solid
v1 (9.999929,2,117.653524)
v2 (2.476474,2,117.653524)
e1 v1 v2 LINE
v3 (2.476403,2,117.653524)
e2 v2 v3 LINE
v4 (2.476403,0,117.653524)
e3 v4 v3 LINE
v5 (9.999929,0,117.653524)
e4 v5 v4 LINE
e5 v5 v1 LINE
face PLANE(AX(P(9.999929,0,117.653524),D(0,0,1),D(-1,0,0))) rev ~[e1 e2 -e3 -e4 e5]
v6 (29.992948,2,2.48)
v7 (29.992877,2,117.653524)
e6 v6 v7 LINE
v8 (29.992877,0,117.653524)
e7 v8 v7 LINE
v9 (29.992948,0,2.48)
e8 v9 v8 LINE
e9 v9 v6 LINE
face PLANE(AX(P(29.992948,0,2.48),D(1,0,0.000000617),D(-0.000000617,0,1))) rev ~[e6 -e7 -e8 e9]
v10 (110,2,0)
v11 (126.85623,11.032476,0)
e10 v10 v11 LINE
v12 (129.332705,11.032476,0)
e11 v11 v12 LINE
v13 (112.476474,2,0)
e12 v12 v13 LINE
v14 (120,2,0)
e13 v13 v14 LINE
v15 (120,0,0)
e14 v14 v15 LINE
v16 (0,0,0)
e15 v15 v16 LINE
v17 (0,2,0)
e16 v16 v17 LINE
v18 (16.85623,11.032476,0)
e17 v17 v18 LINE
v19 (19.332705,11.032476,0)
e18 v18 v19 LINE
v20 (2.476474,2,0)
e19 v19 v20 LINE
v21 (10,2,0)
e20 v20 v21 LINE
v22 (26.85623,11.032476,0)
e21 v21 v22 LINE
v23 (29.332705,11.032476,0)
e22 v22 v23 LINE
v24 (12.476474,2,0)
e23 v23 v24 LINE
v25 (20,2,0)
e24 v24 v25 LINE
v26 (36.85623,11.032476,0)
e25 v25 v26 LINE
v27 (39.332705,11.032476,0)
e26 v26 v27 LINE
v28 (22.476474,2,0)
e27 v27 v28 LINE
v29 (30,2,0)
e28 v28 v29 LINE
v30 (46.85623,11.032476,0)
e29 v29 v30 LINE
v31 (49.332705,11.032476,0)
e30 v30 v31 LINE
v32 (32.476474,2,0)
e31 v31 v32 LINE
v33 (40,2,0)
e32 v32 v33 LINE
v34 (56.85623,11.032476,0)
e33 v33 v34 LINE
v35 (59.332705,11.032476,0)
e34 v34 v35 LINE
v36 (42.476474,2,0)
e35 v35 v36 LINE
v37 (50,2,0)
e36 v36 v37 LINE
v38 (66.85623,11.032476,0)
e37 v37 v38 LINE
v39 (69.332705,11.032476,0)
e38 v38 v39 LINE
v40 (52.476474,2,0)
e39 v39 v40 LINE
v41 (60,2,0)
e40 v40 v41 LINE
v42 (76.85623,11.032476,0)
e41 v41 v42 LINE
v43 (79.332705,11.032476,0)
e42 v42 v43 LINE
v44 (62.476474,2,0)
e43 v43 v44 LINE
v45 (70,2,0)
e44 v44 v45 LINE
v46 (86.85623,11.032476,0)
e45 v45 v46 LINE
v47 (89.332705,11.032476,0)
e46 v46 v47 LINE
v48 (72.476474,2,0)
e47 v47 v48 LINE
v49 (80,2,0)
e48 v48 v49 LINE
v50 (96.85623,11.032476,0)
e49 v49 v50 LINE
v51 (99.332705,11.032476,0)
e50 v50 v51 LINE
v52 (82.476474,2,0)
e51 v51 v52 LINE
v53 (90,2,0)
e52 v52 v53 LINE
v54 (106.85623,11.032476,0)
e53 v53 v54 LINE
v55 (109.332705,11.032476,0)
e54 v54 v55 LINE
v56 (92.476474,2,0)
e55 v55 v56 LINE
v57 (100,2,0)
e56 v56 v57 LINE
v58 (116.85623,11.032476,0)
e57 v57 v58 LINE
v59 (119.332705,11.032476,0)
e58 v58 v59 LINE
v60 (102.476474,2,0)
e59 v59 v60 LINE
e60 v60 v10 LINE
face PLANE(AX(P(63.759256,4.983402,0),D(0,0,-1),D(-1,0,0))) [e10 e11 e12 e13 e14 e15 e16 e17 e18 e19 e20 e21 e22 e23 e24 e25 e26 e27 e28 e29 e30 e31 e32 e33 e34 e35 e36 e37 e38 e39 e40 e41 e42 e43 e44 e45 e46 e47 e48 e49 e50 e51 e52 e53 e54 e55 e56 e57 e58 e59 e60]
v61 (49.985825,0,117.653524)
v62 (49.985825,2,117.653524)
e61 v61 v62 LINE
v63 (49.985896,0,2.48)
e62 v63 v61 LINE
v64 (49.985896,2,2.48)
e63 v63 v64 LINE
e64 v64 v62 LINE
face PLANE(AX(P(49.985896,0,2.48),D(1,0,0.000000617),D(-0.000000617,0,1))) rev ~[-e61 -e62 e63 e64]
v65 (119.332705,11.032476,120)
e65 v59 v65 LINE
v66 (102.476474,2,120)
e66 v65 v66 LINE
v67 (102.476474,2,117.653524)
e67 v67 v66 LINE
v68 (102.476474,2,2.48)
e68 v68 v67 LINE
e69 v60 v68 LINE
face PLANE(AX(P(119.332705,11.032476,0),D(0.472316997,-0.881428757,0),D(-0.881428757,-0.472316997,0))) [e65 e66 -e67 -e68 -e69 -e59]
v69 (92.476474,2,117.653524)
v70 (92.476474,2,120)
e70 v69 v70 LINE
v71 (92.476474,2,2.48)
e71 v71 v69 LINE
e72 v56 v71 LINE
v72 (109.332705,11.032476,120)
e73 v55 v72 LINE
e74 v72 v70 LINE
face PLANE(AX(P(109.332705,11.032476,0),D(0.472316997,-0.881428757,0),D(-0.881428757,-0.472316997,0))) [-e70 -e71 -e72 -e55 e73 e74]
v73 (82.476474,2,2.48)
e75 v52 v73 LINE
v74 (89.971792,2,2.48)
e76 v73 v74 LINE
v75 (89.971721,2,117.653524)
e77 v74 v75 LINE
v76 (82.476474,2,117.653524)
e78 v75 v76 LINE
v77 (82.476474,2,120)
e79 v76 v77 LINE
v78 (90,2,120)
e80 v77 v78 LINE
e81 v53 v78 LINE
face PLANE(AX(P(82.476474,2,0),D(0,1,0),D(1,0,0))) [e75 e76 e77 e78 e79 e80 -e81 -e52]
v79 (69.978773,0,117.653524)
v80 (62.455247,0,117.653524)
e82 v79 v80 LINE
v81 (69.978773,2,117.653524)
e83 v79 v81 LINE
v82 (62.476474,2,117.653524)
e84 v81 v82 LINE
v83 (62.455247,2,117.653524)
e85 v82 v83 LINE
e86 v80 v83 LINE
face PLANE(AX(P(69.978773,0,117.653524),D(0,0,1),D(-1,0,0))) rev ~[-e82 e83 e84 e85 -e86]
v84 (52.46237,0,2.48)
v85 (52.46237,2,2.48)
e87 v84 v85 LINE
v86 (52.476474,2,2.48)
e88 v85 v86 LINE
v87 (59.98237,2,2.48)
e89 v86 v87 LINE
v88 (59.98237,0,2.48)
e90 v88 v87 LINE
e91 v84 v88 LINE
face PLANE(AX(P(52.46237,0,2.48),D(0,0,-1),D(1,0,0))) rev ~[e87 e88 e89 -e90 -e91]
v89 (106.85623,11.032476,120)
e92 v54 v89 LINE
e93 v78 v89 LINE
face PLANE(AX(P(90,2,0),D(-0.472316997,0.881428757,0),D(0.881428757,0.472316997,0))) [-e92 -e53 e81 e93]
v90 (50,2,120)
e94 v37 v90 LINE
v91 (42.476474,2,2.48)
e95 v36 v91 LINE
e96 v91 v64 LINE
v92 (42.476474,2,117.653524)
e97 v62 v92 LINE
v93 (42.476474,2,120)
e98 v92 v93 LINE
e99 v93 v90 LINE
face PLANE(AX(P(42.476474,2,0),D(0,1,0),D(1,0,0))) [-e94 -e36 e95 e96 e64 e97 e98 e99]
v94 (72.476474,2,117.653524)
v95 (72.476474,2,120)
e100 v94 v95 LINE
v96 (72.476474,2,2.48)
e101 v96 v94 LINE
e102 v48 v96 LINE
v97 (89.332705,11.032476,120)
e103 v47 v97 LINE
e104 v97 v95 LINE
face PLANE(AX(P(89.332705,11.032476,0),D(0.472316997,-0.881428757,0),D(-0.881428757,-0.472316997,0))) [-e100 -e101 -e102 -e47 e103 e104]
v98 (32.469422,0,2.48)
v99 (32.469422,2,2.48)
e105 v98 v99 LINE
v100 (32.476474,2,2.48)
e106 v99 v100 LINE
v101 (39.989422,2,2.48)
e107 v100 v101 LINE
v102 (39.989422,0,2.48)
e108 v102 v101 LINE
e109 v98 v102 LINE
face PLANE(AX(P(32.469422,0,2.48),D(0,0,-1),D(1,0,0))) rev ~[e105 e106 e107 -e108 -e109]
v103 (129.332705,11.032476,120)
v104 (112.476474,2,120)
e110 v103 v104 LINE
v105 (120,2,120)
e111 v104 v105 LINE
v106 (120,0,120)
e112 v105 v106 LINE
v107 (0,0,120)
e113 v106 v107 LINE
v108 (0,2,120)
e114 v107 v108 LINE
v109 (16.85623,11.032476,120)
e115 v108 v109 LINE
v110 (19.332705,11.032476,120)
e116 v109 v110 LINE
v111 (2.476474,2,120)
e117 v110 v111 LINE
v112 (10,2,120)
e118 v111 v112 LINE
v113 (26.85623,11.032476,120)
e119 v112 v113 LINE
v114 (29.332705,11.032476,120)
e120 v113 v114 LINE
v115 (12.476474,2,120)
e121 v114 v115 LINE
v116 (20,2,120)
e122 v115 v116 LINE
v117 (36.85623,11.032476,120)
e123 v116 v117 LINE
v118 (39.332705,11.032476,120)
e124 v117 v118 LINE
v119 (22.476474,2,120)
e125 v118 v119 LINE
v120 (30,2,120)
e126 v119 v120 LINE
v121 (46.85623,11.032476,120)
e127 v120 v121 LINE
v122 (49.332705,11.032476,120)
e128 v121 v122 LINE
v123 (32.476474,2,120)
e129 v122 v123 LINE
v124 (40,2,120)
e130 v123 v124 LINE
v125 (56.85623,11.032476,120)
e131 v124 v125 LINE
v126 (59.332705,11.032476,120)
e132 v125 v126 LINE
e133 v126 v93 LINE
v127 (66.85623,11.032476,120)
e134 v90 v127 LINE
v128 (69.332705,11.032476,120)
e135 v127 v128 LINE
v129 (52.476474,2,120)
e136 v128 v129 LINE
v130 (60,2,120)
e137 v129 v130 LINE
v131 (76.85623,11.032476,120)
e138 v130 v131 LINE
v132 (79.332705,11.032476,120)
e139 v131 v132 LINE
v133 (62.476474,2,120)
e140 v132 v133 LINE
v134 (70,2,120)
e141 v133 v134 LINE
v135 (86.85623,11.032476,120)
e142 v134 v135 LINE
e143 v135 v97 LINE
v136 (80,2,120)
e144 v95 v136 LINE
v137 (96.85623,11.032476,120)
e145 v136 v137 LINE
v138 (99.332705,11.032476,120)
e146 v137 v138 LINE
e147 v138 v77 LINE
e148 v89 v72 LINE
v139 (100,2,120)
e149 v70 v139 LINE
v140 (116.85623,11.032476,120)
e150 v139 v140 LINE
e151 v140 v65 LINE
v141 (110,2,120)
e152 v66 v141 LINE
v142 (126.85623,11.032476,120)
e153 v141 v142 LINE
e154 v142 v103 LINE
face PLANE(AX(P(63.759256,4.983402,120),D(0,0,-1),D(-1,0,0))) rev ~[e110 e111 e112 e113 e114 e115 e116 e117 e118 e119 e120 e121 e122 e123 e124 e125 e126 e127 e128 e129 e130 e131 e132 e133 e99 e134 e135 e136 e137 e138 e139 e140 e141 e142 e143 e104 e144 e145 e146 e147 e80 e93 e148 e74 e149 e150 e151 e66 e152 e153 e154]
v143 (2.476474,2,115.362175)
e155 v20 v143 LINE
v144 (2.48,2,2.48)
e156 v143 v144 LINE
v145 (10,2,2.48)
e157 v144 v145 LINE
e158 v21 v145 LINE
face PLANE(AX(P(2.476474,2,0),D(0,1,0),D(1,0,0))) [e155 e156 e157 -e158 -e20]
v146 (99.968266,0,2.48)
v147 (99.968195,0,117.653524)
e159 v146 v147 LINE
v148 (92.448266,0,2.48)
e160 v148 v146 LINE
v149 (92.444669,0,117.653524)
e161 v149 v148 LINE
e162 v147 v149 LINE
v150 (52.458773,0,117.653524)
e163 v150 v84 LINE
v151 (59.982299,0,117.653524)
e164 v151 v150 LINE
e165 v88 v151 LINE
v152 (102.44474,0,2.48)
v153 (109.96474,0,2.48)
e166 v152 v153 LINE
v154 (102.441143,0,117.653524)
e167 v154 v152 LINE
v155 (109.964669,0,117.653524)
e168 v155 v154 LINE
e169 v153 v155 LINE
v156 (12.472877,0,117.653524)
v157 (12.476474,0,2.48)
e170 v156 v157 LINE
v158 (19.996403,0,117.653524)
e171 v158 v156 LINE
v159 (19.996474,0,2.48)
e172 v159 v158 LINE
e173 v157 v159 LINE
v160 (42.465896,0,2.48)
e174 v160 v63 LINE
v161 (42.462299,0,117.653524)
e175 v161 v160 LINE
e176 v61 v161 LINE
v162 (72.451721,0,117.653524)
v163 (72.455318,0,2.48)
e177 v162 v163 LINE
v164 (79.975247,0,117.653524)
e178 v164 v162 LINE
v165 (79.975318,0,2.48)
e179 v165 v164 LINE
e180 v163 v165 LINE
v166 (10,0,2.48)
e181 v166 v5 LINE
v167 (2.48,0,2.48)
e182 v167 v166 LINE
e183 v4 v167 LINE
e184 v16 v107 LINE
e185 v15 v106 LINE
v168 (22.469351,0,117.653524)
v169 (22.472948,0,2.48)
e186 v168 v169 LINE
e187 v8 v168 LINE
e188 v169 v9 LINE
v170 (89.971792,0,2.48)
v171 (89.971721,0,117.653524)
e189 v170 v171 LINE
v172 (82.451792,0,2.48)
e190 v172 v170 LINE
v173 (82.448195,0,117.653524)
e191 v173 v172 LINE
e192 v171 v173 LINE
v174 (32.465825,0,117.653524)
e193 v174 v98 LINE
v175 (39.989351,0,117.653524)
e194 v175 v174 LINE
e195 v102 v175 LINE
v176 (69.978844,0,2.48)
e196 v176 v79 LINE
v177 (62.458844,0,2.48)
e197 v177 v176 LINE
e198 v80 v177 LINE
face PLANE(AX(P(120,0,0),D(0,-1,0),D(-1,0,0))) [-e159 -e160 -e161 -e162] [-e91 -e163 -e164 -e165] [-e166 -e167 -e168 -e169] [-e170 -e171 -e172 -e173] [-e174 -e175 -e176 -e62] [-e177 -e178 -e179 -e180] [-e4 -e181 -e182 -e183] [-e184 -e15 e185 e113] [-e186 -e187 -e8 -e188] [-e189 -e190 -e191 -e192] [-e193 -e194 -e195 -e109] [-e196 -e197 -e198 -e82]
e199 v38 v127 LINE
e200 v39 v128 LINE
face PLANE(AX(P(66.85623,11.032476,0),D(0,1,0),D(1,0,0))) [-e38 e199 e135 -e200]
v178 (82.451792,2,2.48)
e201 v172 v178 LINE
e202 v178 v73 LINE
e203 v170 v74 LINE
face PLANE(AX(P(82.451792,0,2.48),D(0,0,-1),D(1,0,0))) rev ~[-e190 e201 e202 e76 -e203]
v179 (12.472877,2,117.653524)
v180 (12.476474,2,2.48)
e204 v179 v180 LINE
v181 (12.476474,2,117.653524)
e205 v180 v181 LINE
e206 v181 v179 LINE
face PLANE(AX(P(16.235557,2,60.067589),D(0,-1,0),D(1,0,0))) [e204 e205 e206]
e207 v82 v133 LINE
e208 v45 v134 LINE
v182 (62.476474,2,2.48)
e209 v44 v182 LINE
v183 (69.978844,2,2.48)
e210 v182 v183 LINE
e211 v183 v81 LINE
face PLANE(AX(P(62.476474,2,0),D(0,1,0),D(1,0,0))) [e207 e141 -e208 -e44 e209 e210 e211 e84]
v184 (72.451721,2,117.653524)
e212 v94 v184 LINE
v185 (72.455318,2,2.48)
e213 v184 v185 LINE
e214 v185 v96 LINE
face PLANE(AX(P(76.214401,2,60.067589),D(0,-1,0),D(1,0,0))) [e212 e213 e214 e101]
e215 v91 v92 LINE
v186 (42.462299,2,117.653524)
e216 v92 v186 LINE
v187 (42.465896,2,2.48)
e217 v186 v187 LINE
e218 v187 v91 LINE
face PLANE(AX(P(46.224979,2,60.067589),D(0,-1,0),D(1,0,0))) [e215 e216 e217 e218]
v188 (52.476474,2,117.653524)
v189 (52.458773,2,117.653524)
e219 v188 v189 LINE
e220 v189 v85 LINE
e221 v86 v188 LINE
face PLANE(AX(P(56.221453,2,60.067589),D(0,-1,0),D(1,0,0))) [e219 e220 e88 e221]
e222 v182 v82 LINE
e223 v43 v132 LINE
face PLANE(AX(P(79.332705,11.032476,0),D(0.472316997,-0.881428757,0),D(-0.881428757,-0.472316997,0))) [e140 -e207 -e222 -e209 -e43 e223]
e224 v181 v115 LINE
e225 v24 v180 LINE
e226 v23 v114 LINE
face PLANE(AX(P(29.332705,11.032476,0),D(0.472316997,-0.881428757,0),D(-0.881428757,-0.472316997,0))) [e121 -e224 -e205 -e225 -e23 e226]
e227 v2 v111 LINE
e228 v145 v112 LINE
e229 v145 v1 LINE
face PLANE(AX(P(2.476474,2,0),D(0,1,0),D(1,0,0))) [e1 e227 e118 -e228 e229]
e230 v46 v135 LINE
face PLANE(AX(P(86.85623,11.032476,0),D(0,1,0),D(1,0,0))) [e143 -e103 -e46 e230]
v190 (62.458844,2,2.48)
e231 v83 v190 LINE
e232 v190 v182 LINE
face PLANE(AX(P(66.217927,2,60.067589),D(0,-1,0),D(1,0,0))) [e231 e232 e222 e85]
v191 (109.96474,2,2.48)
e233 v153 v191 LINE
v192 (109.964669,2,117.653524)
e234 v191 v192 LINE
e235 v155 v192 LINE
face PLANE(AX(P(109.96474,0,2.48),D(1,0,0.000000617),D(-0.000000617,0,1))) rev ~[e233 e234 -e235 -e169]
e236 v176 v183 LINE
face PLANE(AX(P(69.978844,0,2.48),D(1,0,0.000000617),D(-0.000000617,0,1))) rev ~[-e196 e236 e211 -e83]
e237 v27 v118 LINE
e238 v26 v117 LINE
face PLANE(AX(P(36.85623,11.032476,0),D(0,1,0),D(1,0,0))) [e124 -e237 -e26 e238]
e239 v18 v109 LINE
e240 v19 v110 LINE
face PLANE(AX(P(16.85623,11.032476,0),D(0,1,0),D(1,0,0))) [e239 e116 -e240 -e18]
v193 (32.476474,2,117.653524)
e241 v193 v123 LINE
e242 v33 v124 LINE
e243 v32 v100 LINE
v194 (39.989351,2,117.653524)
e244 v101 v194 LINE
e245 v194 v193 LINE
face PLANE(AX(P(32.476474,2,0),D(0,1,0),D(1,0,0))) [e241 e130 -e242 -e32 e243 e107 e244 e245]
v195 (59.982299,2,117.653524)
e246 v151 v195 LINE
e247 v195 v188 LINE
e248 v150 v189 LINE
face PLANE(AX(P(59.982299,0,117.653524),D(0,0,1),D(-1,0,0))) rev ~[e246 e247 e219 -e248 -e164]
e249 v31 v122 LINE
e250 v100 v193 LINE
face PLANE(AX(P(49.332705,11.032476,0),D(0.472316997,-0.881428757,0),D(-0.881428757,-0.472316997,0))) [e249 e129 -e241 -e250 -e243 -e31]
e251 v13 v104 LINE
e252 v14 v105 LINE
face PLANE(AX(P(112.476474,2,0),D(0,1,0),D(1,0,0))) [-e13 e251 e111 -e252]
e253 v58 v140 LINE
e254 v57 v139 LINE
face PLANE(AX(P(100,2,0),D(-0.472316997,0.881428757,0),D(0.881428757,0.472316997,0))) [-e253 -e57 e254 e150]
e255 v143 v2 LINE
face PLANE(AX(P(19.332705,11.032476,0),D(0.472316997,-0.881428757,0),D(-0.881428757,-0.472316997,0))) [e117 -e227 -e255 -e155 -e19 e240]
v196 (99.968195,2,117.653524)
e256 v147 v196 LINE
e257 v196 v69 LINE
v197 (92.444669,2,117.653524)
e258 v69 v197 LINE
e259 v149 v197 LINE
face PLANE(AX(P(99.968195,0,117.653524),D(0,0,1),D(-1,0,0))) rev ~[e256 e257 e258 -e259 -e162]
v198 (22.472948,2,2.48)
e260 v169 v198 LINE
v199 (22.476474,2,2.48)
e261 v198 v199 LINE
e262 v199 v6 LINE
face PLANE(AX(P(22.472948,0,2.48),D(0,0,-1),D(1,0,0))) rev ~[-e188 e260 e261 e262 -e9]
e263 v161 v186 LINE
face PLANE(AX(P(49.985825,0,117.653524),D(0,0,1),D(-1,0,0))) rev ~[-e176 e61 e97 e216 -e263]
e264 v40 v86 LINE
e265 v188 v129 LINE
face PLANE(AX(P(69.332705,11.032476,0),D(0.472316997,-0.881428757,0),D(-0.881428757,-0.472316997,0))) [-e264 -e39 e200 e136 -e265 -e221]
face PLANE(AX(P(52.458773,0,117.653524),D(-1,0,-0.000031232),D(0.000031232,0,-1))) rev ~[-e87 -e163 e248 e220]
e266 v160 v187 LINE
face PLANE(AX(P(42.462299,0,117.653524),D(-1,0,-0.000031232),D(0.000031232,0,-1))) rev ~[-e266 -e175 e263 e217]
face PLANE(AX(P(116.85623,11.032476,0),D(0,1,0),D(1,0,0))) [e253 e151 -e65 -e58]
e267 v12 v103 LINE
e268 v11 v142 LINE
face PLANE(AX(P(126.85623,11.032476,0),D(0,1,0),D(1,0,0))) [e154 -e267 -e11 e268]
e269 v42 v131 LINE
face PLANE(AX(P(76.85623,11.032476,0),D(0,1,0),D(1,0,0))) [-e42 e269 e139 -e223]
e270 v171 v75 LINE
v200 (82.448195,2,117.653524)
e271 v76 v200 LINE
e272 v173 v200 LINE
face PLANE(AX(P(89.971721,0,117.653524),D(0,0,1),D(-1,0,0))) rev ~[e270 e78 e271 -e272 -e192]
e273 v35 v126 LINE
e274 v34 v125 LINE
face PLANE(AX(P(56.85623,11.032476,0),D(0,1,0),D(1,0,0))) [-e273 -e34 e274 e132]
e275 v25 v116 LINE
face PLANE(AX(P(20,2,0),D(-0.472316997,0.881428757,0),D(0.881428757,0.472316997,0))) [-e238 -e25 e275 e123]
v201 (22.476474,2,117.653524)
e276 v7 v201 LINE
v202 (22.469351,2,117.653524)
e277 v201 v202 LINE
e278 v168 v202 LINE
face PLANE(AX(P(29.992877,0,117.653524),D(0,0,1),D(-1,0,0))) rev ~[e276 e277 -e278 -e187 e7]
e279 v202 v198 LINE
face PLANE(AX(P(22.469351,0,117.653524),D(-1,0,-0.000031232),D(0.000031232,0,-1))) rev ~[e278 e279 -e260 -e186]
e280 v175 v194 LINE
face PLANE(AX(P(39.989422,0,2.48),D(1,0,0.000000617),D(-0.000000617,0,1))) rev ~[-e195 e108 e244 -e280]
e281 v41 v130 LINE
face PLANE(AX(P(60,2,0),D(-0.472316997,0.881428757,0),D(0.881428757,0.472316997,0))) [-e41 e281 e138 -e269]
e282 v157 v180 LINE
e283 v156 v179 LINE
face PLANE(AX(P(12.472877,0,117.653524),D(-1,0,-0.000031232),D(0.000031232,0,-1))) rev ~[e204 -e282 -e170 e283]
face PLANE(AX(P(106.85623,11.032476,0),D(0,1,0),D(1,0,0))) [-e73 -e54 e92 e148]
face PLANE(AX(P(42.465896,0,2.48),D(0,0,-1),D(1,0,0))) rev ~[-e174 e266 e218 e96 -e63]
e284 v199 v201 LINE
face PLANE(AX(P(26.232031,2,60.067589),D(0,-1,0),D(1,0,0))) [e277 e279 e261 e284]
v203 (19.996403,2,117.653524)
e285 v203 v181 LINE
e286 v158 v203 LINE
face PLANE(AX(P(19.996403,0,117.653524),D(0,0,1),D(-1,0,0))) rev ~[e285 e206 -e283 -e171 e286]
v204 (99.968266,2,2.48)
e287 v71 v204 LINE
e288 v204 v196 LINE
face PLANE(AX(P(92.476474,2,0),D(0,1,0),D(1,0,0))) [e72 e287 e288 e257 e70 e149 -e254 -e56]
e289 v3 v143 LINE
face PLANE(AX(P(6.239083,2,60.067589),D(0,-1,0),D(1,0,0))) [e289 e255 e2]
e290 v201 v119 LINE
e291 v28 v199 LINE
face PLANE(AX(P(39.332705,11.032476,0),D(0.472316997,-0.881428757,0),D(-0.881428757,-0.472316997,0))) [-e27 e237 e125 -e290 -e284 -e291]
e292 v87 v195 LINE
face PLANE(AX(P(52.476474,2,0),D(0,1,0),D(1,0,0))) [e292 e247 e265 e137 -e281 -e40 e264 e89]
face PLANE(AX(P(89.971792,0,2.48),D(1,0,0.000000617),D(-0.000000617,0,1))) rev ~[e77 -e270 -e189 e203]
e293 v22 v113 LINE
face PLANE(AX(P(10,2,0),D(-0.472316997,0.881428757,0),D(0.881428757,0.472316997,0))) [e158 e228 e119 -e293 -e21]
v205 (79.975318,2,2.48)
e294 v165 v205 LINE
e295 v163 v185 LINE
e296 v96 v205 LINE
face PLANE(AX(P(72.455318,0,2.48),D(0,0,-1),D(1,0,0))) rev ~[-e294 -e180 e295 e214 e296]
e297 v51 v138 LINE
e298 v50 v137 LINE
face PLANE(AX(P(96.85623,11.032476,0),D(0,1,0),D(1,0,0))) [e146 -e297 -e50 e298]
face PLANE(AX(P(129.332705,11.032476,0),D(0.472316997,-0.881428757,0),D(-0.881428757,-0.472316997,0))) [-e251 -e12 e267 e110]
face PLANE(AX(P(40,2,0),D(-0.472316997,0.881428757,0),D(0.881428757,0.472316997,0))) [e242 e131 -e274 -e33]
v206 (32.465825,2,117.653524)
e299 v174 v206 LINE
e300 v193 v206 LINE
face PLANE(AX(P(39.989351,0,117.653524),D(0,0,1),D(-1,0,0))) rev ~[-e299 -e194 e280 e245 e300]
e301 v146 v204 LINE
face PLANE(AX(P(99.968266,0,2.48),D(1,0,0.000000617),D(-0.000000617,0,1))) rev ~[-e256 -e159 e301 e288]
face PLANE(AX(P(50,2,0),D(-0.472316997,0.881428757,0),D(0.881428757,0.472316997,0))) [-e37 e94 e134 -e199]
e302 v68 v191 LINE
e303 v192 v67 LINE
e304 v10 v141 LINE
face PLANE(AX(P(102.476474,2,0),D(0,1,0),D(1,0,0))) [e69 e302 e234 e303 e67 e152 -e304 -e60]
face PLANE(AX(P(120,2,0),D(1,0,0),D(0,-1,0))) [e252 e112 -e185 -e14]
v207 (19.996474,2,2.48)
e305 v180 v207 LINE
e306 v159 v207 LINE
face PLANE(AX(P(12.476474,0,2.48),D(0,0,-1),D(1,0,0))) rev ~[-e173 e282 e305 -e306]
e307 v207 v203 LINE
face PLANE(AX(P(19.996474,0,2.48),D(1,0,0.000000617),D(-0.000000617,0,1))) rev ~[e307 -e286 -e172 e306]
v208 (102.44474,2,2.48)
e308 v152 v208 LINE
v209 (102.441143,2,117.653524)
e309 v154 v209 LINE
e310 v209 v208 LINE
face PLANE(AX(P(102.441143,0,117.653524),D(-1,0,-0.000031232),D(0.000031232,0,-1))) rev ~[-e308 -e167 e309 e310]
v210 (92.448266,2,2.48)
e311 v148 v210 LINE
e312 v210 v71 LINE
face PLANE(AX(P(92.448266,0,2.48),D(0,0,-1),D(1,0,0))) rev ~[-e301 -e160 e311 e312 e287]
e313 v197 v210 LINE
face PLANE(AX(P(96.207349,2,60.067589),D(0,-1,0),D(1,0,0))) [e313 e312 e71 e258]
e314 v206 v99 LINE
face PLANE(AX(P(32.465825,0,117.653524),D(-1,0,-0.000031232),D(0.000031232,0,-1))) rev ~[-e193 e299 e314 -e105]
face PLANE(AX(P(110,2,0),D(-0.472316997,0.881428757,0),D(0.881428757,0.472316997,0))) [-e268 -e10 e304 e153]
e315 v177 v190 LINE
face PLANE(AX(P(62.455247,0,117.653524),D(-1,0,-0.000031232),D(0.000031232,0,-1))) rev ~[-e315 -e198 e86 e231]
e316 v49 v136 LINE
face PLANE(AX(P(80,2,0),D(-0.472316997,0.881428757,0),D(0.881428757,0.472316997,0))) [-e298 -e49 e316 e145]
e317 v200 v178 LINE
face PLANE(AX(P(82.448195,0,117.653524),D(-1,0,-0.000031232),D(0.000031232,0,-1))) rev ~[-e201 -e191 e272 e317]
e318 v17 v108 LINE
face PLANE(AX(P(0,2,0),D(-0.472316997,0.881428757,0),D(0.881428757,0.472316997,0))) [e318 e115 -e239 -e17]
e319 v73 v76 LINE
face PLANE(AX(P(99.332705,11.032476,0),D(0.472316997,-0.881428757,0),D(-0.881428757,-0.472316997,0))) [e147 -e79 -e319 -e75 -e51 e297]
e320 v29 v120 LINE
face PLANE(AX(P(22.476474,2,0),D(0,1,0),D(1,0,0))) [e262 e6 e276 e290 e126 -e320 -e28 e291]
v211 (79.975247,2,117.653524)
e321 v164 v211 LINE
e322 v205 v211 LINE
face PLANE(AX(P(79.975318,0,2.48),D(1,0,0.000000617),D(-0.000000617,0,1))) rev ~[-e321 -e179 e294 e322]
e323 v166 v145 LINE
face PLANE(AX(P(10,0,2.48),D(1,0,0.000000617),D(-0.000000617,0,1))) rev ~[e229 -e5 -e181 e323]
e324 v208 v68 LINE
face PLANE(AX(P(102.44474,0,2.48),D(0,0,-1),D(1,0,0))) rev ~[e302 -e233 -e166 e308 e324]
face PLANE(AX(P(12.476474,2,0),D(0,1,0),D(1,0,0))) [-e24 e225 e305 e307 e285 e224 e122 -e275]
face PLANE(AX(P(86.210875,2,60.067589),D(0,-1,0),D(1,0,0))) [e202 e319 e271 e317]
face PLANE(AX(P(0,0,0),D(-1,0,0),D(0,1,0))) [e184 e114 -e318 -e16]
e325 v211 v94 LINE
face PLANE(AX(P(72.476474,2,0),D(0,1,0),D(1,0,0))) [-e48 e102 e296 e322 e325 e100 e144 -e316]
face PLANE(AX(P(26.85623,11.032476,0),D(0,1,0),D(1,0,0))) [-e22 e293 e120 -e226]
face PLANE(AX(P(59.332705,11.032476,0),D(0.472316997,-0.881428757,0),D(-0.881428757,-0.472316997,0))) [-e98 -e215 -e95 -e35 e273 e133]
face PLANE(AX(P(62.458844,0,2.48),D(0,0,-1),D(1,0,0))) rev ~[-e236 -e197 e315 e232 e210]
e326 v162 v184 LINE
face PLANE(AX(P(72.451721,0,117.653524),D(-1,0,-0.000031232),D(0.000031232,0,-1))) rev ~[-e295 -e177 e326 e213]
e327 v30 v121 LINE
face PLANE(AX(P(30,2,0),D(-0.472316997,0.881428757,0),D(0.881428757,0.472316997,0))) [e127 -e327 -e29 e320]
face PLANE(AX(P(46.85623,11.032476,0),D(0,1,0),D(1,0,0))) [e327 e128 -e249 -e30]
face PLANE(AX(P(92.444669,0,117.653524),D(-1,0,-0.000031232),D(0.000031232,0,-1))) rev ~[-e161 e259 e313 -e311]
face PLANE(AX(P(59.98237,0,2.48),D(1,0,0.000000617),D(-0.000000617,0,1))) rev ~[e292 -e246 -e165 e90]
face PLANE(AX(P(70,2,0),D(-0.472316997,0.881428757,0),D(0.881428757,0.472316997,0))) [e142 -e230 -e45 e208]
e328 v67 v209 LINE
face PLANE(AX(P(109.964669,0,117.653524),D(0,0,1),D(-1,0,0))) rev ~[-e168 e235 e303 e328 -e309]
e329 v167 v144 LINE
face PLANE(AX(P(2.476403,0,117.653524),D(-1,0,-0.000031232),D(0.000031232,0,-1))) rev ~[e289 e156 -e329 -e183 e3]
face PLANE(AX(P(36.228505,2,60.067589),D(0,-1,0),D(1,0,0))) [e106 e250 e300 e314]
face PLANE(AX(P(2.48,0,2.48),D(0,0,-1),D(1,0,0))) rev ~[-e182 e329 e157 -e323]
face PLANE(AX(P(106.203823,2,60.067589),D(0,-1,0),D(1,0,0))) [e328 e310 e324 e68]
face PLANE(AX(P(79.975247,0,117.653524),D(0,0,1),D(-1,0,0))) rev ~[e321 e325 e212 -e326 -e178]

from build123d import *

# Parameters (mm, degrees)
EXTRUDE_1_DEPTH     = 120
CUT_EXTRUDE_1_DEPTH = 2


with BuildPart() as part:
    # 草图2 → 凸台-拉伸1 (new body)
    with BuildSketch(Plane.XY):
        Polygon((0, 2), (16.856230065, 11.032475858), (19.332704549, 11.032475858), (2.476474484, 2), (10, 2), (26.856230065, 11.032475858), (29.332704549, 11.032475858), (12.476474484, 2), (20, 2), (36.856230065, 11.032475858), (39.332704549, 11.032475858), (22.476474484, 2), (30, 2), (46.856230065, 11.032475858), (49.332704549, 11.032475858), (32.476474484, 2), (40, 2), (56.856230065, 11.032475858), (59.332704549, 11.032475858), (42.476474484, 2), (50, 2), (66.856230065, 11.032475858), (69.332704549, 11.032475858), (52.476474484, 2), (60, 2), (76.856230065, 11.032475858), (79.332704549, 11.032475858), (62.476474484, 2), (70, 2), (86.856230065, 11.032475858), (89.332704549, 11.032475858), (72.476474484, 2), (80, 2), (96.856230065, 11.032475858), (99.332704549, 11.032475858), (82.476474484, 2), (90, 2), (106.856230065, 11.032475858), (109.332704549, 11.032475858), (92.476474484, 2), (100, 2), (116.856230065, 11.032475858), (119.332704549, 11.032475858), (102.476474484, 2), (110, 2), (126.856230065, 11.032475858), (129.332704549, 11.032475858), (112.476474484, 2), (120, 2), (120, 0), (0, 0), align=None)
    extrude(amount=EXTRUDE_1_DEPTH)

    # 草图5 → 切除-拉伸1 (cut)
    with BuildSketch(Plane.XZ):
        Polygon((2.476402921, 117.653523678), (2.48, 2.48), (10, 2.48), (9.999928921, 117.653523678), align=None)
        Polygon((19.996402921, 117.653523678), (12.472876921, 117.653523678), (12.476474, 2.48), (19.774552048, 2.48), (19.996474, 2.48), align=None)
        Polygon((32.465824921, 117.653523678), (32.469422, 2.48), (39.323656144, 2.48), (39.989422, 2.48), (39.989350921, 117.653523678), align=None)
        Polygon((42.462298921, 117.653523678), (42.465896, 2.48), (49.098208192, 2.48), (49.985896, 2.48), (49.985824921, 117.653523678), align=None)
        Polygon((52.458772921, 117.653523678), (52.46237, 2.48), (58.87276024, 2.48), (59.98237, 2.48), (59.982298921, 117.653523678), align=None)
        Polygon((62.455246921, 117.653523678), (62.458844, 2.48), (68.647312287, 2.48), (69.978844, 2.48), (69.978772921, 117.653523678), align=None)
        Polygon((72.451720921, 117.653523678), (72.455318, 2.48), (78.421864335, 2.48), (79.975318, 2.48), (79.975246921, 117.653523678), align=None)
        Polygon((82.448194921, 117.653523678), (82.451792, 2.48), (88.196416383, 2.48), (89.971792, 2.48), (89.971720921, 117.653523678), align=None)
        Polygon((92.444668921, 117.653523678), (92.448266, 2.48), (97.970968431, 2.48), (99.968266, 2.48), (99.968194921, 117.653523678), align=None)
        Polygon((102.441142921, 117.653523678), (102.44474, 2.48), (107.745520479, 2.48), (109.96474, 2.48), (109.964668921, 117.653523678), align=None)
        Polygon((22.469350921, 117.653523678), (22.472948, 2.48), (29.992948, 2.48), (29.992876921, 117.653523678), align=None)
    extrude(amount=-CUT_EXTRUDE_1_DEPTH, mode=Mode.SUBTRACT)


solid = part.part
